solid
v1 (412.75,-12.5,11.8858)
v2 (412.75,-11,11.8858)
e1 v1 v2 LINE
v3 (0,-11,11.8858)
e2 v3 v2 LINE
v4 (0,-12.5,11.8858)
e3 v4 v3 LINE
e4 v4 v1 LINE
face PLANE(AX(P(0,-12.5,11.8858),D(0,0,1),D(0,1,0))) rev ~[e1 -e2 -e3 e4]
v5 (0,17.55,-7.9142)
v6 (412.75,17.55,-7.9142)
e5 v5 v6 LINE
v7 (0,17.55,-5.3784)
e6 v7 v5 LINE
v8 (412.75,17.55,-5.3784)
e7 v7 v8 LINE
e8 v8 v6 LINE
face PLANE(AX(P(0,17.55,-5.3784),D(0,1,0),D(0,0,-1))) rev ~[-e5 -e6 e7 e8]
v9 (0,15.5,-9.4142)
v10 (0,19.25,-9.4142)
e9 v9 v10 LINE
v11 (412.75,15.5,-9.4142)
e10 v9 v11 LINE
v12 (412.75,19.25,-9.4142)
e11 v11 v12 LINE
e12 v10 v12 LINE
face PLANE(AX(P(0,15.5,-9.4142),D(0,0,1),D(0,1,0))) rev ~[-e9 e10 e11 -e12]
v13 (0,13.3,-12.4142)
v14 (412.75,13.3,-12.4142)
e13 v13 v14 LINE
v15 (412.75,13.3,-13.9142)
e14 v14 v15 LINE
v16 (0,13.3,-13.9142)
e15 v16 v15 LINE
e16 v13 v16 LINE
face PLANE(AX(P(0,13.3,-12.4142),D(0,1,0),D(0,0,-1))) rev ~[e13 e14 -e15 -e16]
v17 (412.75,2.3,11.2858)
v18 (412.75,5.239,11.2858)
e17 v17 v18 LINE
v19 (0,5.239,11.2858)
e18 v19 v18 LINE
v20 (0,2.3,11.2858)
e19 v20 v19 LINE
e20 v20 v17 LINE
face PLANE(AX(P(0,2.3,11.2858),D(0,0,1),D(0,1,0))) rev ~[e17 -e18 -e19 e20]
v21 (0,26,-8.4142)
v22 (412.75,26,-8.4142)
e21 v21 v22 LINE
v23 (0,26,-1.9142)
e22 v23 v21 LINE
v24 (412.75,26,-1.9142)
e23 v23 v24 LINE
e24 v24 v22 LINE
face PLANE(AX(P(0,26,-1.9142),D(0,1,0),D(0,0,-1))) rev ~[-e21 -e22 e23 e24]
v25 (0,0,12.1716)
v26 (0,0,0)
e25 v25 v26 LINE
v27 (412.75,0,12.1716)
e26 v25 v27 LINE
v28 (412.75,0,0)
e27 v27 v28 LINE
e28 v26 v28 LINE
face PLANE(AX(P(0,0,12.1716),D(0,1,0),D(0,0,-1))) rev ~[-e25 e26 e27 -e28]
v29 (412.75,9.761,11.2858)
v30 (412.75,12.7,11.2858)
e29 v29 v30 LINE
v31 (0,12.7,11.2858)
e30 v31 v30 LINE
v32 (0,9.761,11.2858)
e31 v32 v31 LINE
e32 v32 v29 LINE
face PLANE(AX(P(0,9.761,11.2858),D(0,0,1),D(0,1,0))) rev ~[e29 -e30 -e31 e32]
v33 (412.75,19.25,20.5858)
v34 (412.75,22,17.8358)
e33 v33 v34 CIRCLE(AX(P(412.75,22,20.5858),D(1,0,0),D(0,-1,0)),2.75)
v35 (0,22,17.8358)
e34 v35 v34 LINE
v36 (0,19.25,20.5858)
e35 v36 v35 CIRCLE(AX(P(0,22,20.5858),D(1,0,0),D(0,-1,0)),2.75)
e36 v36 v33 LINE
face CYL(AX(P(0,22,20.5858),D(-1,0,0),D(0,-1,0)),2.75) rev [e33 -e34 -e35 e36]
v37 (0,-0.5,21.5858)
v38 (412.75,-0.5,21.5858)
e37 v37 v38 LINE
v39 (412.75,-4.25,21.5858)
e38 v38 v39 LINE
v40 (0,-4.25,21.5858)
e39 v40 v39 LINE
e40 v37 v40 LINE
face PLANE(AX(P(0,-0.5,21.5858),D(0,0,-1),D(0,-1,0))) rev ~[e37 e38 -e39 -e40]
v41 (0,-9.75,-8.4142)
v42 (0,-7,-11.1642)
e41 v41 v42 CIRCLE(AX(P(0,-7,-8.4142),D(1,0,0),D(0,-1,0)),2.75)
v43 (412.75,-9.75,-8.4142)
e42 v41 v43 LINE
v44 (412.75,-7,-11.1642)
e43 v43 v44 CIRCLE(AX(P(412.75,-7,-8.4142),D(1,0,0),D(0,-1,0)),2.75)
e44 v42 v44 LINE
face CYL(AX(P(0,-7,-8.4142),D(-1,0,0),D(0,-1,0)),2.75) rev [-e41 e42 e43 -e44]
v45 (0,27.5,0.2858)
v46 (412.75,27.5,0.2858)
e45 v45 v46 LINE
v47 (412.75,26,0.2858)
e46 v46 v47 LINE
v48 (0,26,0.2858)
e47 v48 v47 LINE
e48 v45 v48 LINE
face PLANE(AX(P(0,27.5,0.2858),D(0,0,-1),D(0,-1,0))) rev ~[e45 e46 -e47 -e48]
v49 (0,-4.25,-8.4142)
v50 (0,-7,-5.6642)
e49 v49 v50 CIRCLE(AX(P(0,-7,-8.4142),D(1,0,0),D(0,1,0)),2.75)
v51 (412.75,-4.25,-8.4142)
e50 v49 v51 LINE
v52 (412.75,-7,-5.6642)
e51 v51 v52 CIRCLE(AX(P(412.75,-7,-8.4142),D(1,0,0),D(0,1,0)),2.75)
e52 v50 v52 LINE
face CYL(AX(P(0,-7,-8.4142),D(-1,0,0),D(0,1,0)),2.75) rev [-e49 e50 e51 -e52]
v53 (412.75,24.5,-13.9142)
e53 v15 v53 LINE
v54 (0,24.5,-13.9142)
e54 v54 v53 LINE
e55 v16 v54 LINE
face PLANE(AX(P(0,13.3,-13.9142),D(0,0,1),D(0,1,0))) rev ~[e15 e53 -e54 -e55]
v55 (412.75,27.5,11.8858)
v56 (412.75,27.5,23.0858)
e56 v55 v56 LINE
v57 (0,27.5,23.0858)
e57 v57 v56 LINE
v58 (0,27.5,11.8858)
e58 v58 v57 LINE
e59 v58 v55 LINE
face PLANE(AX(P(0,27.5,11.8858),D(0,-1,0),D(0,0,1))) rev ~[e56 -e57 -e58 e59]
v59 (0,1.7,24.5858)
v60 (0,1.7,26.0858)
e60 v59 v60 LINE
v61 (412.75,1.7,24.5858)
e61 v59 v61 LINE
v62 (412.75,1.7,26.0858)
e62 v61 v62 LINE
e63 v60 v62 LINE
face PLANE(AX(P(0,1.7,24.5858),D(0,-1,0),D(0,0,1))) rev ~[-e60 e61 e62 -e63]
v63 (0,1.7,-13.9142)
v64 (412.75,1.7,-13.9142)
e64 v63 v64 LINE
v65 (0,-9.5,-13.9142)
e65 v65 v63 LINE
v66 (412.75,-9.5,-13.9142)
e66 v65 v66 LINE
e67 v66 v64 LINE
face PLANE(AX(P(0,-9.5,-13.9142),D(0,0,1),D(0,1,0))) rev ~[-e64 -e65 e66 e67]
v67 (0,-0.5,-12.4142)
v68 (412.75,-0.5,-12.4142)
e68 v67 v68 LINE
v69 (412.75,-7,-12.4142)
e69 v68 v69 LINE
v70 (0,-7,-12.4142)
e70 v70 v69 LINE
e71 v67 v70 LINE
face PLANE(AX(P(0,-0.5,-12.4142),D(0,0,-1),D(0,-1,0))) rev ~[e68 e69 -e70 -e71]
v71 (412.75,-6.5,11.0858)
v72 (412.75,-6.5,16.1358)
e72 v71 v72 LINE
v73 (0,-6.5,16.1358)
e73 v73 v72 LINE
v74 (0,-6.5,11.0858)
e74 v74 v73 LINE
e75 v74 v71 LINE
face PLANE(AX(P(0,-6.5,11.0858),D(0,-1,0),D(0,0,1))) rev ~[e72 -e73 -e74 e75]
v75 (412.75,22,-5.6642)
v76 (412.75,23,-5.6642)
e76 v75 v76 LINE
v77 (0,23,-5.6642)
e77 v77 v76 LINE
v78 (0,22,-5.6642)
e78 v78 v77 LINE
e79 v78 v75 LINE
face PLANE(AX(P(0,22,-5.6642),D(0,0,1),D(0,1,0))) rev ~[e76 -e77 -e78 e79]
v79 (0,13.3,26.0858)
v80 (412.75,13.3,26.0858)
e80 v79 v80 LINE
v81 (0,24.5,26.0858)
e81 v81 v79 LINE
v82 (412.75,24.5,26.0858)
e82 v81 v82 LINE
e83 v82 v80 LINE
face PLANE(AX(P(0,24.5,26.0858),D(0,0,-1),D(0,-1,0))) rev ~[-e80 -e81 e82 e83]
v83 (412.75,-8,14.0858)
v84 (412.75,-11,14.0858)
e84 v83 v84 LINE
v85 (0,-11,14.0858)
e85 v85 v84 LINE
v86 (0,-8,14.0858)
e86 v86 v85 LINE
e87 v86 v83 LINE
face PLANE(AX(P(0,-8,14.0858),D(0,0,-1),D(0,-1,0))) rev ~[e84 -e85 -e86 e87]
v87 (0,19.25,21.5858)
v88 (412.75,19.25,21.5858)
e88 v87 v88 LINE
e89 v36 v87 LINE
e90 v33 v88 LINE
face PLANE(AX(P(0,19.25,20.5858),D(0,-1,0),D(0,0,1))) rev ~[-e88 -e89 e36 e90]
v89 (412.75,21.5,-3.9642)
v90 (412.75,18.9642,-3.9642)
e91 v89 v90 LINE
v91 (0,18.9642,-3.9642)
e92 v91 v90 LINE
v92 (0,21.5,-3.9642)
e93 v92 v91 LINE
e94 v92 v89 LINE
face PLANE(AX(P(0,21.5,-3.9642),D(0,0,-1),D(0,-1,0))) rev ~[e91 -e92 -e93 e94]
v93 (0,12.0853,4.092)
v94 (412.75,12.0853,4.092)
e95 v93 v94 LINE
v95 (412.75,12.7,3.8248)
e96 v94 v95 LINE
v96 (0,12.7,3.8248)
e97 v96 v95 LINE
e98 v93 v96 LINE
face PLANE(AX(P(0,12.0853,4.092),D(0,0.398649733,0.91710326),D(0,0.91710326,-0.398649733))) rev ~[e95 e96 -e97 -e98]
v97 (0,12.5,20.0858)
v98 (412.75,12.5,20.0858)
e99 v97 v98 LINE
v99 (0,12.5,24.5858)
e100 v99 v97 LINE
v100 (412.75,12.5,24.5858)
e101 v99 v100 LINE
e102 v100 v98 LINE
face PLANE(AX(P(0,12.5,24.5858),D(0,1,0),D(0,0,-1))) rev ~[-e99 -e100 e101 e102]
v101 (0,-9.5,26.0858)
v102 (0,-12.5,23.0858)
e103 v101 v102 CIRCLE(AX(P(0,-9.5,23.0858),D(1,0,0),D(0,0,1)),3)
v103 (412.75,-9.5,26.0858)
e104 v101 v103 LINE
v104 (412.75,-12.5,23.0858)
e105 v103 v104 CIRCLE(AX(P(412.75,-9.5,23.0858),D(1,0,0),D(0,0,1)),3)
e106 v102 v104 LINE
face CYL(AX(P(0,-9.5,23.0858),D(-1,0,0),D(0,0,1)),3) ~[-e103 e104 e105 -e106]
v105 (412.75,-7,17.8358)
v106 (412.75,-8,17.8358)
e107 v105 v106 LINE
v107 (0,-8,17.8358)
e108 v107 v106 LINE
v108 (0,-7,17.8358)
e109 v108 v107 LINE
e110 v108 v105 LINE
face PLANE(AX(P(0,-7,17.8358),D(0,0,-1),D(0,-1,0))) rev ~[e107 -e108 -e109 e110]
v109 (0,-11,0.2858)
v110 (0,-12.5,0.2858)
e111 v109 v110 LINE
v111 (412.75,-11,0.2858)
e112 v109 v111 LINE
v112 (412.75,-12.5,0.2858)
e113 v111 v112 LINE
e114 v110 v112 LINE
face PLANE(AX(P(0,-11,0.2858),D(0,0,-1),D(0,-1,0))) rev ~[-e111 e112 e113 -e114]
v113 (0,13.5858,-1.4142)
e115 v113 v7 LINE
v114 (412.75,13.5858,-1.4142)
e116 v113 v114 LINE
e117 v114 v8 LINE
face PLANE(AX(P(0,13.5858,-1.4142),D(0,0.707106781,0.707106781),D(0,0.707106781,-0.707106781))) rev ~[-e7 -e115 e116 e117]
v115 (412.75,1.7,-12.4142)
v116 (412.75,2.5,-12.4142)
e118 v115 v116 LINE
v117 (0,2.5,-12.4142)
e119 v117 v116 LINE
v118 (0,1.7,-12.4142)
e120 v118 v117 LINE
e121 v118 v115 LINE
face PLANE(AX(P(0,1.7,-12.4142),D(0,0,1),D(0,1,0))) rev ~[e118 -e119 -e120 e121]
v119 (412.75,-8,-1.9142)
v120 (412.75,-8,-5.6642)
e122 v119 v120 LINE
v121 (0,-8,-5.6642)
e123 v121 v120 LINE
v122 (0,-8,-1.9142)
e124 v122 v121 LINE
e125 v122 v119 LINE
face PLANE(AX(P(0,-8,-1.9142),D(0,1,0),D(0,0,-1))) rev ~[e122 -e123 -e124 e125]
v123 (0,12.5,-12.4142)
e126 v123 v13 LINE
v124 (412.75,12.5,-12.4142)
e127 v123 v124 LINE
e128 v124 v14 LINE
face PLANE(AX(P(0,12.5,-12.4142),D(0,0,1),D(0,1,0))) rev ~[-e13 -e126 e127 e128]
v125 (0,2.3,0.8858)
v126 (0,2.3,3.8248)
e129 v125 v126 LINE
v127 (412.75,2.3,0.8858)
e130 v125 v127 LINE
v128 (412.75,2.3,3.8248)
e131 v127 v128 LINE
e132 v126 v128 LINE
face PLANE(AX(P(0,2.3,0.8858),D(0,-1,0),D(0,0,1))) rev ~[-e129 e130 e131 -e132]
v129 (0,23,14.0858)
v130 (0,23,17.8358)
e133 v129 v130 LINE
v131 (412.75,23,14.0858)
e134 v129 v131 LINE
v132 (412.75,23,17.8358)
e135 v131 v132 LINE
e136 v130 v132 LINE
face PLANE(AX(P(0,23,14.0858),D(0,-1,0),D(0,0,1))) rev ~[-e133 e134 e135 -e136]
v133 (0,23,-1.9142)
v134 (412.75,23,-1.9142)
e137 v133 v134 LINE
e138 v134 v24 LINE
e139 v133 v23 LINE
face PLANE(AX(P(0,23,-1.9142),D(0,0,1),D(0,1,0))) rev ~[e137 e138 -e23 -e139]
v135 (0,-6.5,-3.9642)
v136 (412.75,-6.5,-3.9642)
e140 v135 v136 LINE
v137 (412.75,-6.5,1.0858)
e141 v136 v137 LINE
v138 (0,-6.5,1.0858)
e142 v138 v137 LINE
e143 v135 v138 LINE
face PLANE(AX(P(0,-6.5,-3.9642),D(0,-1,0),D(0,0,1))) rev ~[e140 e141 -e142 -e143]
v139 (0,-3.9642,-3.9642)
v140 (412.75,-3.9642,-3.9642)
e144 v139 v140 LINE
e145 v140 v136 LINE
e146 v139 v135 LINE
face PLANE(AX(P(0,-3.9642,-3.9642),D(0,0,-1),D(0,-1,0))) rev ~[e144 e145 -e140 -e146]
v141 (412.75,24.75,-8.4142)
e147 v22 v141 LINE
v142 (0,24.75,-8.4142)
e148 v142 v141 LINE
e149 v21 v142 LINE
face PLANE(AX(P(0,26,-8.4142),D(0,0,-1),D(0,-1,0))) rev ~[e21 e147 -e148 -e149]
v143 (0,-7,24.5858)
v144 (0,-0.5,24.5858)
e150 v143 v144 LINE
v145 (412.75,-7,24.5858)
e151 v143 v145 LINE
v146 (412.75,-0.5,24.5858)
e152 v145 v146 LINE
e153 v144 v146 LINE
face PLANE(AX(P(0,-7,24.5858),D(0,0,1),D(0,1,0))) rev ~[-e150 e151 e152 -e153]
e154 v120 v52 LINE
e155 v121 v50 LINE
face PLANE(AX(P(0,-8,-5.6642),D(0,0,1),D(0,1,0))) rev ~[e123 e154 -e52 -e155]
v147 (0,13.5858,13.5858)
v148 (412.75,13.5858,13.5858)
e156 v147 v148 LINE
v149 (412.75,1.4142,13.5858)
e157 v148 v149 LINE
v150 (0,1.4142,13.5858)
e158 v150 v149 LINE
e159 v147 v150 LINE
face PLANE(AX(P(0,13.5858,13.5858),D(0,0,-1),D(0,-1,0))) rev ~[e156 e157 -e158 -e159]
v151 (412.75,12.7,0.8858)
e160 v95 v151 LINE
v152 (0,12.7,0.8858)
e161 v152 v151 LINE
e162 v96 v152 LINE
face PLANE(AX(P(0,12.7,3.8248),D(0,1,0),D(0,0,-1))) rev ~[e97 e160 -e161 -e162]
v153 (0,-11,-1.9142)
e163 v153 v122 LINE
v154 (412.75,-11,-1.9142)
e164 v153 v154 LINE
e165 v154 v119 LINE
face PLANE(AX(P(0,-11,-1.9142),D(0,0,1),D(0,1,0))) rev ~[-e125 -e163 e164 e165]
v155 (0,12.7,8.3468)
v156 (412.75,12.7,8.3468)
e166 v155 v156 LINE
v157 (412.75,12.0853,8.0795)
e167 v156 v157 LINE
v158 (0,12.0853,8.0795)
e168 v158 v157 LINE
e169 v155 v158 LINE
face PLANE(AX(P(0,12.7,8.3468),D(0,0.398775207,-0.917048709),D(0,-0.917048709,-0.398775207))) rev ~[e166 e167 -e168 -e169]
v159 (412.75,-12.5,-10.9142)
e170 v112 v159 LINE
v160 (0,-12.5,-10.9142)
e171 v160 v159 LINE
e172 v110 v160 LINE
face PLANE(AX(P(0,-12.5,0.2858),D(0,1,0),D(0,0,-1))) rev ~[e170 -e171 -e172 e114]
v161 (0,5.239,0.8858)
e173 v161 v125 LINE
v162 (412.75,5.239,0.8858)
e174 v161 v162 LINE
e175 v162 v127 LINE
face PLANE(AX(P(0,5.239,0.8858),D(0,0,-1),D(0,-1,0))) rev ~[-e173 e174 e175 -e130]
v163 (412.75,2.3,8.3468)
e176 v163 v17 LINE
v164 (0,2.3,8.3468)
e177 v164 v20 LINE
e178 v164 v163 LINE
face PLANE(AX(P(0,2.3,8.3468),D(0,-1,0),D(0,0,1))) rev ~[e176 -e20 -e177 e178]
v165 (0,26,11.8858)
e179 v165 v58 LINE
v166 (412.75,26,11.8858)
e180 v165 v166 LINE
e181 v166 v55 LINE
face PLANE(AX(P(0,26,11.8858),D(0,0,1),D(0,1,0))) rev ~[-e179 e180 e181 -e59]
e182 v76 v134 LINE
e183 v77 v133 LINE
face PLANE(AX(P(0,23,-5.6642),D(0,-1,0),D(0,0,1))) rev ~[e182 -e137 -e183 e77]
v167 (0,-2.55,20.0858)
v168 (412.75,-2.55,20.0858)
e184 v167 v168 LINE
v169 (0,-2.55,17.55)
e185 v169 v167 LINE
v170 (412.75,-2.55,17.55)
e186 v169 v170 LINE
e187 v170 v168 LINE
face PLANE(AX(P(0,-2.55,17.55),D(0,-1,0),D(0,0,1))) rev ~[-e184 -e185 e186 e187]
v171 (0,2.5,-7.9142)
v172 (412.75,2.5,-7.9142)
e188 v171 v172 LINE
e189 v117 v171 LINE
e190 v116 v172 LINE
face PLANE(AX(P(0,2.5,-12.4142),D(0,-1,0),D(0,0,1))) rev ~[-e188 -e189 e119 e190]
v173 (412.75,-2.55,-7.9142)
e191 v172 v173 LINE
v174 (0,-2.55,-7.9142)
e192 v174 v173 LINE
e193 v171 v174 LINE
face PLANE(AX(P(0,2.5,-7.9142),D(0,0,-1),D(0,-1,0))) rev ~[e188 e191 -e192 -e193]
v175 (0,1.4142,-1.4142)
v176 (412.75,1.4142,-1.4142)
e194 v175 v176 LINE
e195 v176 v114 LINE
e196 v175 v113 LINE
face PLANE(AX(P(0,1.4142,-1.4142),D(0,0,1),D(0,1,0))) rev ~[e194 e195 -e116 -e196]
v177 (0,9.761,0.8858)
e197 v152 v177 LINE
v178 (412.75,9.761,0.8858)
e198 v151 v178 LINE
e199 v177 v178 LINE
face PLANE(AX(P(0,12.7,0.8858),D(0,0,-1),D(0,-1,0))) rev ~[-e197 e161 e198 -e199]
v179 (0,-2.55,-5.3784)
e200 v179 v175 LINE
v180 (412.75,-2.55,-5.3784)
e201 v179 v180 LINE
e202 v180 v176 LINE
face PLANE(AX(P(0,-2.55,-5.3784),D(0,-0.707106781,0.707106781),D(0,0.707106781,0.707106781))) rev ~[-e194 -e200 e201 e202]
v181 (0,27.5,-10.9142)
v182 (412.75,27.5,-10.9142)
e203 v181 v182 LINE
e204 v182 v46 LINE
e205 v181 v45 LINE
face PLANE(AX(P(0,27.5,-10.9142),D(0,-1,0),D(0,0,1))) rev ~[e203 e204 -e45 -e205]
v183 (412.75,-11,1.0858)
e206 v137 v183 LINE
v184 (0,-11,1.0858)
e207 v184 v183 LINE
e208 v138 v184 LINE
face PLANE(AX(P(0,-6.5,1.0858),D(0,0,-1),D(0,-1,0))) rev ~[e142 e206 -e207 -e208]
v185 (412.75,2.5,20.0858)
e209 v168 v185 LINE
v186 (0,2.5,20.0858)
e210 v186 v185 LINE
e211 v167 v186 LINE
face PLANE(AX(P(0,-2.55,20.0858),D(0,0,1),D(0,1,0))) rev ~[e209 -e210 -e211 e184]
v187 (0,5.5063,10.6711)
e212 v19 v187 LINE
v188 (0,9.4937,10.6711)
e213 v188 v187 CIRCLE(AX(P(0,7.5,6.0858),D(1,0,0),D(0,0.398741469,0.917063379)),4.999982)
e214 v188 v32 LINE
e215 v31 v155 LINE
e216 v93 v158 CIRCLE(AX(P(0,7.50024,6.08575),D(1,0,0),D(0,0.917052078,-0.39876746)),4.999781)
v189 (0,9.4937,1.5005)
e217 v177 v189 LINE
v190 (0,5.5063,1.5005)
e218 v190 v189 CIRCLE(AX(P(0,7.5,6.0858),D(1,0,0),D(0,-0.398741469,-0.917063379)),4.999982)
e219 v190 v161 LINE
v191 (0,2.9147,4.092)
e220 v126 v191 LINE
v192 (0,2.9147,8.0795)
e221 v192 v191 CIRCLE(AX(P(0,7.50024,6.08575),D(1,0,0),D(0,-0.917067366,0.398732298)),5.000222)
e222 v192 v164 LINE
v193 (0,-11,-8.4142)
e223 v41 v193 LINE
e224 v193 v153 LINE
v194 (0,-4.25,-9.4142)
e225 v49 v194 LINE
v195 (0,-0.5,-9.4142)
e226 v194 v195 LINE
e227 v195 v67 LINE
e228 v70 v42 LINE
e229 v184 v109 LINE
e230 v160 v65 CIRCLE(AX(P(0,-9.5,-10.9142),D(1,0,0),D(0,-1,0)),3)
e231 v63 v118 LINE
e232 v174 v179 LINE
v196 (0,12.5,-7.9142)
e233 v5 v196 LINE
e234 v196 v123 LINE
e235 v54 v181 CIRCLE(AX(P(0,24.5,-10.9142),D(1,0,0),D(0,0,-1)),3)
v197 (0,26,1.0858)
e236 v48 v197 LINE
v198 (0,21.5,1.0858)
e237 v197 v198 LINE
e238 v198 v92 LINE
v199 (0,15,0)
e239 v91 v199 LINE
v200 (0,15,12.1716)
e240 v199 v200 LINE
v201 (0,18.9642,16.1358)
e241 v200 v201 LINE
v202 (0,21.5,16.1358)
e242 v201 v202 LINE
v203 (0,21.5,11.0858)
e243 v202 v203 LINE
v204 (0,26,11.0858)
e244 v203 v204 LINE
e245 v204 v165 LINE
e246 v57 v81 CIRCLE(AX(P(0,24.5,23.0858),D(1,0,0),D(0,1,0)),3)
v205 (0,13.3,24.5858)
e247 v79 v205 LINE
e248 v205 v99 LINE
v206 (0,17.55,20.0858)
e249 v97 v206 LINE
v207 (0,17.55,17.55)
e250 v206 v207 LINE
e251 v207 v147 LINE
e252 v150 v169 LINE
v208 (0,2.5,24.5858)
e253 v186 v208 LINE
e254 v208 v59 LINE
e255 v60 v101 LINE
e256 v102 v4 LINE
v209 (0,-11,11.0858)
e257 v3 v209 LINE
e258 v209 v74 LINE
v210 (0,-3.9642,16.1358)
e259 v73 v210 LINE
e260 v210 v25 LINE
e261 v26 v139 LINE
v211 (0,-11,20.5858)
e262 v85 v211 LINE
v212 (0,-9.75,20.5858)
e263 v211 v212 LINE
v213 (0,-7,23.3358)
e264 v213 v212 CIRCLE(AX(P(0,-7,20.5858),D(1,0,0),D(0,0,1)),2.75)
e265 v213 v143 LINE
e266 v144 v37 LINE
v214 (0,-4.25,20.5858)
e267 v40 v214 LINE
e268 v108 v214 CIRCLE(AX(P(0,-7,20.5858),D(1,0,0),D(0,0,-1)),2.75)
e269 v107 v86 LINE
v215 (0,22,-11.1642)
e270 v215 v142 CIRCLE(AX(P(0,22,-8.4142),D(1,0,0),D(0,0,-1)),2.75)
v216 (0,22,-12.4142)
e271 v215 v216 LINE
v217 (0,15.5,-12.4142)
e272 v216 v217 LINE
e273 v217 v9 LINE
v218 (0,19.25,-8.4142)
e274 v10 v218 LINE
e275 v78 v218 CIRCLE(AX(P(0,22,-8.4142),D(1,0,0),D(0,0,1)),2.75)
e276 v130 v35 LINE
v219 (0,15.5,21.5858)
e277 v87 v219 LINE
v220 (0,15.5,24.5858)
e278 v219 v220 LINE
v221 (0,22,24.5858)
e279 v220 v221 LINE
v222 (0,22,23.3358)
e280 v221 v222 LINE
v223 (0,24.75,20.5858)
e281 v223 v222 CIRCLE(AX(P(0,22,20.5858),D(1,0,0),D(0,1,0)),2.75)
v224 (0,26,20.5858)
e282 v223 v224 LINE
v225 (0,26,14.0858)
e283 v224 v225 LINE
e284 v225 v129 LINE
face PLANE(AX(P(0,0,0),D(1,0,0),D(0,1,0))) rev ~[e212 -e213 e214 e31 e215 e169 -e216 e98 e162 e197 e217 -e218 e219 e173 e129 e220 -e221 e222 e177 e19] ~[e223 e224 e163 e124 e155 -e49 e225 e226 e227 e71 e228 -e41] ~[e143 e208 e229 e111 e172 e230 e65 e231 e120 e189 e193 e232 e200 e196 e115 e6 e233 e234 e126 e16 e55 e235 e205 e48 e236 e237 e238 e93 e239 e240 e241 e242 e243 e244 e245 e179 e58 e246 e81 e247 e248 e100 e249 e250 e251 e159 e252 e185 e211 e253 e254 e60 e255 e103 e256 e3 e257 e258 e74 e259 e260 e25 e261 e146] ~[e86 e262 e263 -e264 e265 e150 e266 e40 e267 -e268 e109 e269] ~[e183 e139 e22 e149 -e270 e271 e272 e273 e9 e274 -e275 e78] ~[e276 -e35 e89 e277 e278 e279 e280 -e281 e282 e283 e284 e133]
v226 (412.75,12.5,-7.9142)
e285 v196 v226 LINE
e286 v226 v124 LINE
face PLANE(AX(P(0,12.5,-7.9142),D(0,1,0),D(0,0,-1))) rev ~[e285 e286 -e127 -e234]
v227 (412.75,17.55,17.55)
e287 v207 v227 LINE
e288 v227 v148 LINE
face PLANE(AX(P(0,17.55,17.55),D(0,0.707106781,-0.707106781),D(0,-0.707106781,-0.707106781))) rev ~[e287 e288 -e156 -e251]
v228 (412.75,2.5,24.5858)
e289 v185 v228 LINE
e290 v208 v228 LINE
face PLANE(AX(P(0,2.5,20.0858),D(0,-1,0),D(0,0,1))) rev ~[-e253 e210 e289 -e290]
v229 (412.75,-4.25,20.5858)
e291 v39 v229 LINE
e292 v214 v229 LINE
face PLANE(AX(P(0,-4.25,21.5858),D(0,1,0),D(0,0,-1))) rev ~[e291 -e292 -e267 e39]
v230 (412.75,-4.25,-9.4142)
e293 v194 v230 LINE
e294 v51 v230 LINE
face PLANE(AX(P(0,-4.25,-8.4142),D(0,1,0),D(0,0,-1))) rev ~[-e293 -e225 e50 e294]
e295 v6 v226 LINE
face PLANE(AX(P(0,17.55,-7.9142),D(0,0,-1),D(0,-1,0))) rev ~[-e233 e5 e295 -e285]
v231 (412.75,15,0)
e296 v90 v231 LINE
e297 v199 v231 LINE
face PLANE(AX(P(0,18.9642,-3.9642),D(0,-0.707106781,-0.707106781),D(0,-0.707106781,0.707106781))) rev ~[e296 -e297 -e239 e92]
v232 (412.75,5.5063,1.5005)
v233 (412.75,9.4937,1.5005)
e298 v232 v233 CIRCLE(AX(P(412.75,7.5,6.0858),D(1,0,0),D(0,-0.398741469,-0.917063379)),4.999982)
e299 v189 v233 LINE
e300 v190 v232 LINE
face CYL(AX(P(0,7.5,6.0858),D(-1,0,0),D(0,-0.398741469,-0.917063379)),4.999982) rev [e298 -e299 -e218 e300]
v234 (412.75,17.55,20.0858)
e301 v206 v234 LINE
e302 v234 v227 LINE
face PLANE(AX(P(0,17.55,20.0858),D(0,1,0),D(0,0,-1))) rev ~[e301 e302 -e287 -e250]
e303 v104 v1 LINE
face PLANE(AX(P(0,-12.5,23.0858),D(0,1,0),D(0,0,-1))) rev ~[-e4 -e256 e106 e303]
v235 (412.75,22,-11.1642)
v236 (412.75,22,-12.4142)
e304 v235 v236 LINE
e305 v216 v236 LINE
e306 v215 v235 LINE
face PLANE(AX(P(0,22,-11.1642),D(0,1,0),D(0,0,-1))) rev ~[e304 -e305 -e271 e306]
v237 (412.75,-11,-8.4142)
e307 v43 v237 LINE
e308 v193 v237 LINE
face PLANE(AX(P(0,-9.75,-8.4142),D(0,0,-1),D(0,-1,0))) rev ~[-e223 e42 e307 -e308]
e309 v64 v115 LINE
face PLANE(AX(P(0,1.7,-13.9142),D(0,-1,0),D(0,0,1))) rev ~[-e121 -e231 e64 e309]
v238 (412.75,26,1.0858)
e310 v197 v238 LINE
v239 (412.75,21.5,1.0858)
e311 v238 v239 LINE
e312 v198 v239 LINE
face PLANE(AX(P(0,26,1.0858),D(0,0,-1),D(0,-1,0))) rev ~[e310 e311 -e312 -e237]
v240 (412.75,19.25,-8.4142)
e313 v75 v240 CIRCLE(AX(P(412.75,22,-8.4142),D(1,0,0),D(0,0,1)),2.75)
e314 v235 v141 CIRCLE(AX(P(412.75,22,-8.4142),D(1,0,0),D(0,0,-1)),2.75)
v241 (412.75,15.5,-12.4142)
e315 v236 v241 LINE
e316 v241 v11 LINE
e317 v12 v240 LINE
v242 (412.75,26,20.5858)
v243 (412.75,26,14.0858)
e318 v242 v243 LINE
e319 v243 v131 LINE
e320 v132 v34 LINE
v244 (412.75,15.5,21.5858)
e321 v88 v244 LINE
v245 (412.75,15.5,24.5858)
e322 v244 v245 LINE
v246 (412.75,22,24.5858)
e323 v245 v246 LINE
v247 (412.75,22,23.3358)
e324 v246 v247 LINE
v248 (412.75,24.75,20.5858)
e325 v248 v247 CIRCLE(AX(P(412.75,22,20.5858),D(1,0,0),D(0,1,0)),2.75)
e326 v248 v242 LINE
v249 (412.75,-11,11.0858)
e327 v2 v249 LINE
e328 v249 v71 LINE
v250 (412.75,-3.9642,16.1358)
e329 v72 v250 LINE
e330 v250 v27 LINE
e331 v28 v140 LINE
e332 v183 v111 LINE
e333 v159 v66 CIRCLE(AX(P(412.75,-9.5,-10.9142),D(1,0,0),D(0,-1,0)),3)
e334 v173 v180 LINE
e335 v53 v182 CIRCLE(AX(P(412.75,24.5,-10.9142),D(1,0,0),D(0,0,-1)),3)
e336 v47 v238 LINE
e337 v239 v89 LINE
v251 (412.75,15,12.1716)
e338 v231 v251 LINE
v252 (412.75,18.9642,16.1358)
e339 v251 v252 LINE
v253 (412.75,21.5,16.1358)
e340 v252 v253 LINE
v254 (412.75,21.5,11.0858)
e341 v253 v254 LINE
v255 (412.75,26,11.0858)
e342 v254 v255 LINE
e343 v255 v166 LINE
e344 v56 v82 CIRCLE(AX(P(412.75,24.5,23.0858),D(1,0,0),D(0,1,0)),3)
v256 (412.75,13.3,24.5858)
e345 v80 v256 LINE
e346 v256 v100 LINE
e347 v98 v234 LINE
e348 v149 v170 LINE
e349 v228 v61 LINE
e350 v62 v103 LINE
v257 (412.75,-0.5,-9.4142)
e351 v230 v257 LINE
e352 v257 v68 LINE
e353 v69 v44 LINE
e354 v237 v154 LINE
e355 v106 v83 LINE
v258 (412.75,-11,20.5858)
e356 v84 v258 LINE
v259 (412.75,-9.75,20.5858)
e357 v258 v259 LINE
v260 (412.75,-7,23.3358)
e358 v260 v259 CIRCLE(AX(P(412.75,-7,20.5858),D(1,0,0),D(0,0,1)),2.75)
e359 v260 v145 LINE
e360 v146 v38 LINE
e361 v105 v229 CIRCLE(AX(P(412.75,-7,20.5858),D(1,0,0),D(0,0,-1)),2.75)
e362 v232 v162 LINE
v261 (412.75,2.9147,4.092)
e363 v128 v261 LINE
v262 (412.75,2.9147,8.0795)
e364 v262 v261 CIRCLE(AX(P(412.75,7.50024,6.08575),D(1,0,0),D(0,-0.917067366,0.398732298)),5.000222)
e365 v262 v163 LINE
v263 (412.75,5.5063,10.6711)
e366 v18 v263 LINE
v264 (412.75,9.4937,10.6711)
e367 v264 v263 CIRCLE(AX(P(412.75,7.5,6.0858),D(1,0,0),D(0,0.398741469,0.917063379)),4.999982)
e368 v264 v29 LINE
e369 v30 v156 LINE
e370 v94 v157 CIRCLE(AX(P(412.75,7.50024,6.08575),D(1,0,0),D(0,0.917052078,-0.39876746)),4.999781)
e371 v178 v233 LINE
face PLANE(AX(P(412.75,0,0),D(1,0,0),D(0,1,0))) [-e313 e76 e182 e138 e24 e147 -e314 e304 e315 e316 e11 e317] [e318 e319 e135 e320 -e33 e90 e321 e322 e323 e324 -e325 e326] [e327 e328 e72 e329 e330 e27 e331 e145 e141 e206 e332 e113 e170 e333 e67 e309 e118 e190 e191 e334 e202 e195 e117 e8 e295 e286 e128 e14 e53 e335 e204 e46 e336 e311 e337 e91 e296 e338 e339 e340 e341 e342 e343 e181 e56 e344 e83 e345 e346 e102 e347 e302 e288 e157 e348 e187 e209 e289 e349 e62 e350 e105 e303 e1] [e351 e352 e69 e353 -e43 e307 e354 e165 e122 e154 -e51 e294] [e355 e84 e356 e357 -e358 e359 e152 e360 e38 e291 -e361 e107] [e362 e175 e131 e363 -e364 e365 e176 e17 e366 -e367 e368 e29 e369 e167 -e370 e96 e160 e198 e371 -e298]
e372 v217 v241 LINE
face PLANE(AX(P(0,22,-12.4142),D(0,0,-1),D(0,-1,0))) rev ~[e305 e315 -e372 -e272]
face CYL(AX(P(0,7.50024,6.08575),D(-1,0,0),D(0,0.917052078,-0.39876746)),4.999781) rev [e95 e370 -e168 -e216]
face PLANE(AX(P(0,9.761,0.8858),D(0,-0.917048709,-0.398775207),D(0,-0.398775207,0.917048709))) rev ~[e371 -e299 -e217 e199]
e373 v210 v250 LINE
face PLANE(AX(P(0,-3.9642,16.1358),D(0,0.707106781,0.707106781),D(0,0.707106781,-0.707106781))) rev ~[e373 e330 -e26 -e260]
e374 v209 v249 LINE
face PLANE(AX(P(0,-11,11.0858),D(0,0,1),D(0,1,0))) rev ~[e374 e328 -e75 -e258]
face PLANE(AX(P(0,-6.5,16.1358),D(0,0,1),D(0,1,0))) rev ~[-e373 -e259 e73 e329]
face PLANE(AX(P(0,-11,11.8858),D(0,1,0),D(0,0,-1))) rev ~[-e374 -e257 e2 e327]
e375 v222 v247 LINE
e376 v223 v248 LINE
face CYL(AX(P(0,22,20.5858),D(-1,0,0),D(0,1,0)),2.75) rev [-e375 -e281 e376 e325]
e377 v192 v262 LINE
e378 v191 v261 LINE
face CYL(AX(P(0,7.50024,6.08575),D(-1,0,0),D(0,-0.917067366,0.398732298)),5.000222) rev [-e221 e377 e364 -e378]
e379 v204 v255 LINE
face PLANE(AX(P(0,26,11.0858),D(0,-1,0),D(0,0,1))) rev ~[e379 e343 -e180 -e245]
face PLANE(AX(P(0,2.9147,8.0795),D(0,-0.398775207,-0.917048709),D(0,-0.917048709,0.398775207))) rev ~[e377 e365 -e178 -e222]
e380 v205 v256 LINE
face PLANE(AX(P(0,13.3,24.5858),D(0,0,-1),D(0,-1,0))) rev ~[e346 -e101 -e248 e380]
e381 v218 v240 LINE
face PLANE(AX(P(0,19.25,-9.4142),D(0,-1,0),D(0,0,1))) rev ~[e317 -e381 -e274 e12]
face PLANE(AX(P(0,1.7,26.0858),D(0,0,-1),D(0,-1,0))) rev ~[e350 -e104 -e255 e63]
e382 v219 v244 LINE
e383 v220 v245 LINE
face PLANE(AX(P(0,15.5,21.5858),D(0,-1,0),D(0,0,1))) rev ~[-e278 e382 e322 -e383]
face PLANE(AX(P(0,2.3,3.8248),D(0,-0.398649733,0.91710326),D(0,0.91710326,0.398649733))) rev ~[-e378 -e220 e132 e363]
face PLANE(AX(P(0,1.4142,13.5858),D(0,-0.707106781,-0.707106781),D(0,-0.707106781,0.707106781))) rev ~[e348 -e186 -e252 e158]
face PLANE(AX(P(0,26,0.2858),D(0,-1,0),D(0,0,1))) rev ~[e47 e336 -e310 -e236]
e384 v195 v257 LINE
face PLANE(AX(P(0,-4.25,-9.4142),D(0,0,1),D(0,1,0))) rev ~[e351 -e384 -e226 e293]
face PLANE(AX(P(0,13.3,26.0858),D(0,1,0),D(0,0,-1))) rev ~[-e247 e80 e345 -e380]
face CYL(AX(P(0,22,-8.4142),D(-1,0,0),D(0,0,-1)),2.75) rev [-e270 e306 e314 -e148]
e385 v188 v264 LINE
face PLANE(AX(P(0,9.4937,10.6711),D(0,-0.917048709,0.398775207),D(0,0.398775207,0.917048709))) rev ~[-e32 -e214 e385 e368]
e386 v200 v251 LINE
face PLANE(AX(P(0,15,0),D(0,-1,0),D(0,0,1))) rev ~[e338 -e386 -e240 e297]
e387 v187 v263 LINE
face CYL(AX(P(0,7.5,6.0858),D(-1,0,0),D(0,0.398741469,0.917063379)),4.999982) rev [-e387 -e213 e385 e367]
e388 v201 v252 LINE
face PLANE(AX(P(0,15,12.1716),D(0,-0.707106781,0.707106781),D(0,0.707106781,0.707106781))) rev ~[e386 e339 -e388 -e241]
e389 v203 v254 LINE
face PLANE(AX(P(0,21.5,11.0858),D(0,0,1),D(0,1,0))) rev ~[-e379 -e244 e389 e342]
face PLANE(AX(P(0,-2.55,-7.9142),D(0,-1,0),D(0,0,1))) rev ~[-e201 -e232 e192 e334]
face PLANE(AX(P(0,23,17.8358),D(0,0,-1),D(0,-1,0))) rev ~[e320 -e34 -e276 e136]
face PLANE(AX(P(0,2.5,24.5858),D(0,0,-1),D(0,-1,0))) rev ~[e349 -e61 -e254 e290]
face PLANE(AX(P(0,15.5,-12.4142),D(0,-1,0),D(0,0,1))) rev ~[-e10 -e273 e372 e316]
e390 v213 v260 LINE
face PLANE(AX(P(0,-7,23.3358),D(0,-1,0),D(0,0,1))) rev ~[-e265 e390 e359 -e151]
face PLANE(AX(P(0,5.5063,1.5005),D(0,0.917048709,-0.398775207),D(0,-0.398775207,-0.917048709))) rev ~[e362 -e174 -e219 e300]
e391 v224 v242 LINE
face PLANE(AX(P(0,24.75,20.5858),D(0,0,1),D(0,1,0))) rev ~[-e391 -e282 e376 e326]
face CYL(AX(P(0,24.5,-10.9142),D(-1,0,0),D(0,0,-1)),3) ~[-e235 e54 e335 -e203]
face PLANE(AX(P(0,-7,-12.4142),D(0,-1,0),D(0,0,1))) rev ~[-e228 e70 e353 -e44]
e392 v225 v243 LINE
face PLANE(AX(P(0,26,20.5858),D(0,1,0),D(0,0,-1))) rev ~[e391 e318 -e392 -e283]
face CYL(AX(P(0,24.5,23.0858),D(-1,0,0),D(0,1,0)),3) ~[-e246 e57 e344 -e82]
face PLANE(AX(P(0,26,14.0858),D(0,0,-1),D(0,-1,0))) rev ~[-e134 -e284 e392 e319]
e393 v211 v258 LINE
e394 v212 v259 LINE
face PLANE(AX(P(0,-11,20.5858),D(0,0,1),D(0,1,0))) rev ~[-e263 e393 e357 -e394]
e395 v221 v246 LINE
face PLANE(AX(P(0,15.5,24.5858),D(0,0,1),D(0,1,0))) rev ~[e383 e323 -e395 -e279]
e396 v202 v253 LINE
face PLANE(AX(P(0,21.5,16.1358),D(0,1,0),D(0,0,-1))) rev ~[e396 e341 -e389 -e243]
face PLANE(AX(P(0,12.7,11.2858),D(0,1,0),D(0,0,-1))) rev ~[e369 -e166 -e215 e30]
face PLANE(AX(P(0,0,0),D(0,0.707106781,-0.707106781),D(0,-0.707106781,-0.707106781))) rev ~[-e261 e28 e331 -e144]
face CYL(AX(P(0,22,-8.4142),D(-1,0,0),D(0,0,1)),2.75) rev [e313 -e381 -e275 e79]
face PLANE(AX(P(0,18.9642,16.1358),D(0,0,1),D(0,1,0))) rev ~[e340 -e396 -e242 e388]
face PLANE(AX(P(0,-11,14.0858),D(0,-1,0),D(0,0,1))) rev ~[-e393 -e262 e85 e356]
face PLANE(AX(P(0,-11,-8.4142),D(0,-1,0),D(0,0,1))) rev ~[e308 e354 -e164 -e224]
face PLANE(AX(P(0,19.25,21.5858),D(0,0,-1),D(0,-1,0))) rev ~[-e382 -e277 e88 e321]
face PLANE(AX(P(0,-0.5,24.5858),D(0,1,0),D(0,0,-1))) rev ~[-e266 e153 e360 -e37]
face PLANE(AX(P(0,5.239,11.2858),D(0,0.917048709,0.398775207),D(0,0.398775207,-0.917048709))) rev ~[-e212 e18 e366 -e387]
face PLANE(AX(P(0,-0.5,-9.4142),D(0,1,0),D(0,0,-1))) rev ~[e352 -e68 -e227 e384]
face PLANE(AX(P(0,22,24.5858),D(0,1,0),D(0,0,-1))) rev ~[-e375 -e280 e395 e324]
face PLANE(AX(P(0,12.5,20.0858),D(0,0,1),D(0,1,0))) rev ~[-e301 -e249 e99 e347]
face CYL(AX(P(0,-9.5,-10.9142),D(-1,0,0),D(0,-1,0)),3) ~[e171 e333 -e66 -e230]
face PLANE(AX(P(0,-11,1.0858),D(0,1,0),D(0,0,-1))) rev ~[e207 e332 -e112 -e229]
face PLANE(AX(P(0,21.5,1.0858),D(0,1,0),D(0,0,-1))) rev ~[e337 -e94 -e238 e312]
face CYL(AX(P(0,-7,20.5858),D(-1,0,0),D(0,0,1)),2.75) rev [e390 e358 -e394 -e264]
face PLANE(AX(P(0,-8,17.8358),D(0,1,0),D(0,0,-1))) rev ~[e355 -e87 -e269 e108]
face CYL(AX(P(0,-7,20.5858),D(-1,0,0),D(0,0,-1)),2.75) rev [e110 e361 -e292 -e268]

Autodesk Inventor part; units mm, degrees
ref_plane "YZ Plane" through (0, 0, 0) normal (1, 0, 0) x (0, 1, 0)
ref_plane "XZ Plane" through (0, 0, 0) normal (0, 1, 0) x (-1, 0, 0)
ref_plane "XY Plane" through (0, 0, 0) normal (0, 0, 1) x (1, 0, 0)
sketch "Sketch1" plane through (0, 0, 0) normal (1, 0, 0) x (0, 1, 0)
  line L0 (0, 12.1716) -> (0, 0)
  line L1 (0, 0) -> (-3.9642, -3.9642)
  line L2 (-3.9642, -3.9642) -> (-6.5, -3.9642)
  line L3 (-6.5, -3.9642) -> (-6.5, 1.0858)
  line L4 (-6.5, 1.0858) -> (-11, 1.0858)
  line L5 (-11, 1.0858) -> (-11, 0.2858)
  line L6 (-11, 0.2858) -> (-12.5, 0.2858)
  line L7 (-12.5, 0.2858) -> (-12.5, -10.9142)
  arc A0 (-12.5, -10.9142) -> (-9.5, -13.9142) centre (-9.5, -10.9142) ccw
  line L8 (-9.5, -13.9142) -> (1.7, -13.9142)
  line L9 (1.7, -13.9142) -> (1.7, -12.4142)
  line L10 (1.7, -12.4142) -> (2.5, -12.4142)
  line L11 (2.5, -12.4142) -> (2.5, -7.9142)
  line L12 (2.5, -7.9142) -> (-2.55, -7.9142)
  line L13 (-2.55, -7.9142) -> (-2.55, -5.3784)
  line L14 (-2.55, -5.3784) -> (1.4142, -1.4142)
  line L15 (1.4142, -1.4142) -> (13.5858, -1.4142)
  line L16 (13.5858, -1.4142) -> (17.55, -5.3784)
  line L17 (17.55, -5.3784) -> (17.55, -7.9142)
  line L18 (17.55, -7.9142) -> (12.5, -7.9142)
  line L19 (12.5, -7.9142) -> (12.5, -12.4142)
  line L20 (12.5, -12.4142) -> (13.3, -12.4142)
  line L21 (13.3, -12.4142) -> (13.3, -13.9142)
  line L22 (13.3, -13.9142) -> (24.5, -13.9142)
  arc A1 (24.5, -13.9142) -> (27.5, -10.9142) centre (24.5, -10.9142) ccw
  line L23 (27.5, -10.9142) -> (27.5, 0.2858)
  line L24 (27.5, 0.2858) -> (26, 0.2858)
  line L25 (26, 0.2858) -> (26, 1.0858)
  line L26 (26, 1.0858) -> (21.5, 1.0858)
  line L27 (21.5, 1.0858) -> (21.5, -3.9642)
  line L28 (21.5, -3.9642) -> (18.9642, -3.9642)
  line L29 (18.9642, -3.9642) -> (15, 0)
  line L30 (15, 0) -> (15, 12.1716)
  line L31 (15, 12.1716) -> (18.9642, 16.1358)
  line L32 (18.9642, 16.1358) -> (21.5, 16.1358)
  line L33 (21.5, 16.1358) -> (21.5, 11.0858)
  line L34 (21.5, 11.0858) -> (26, 11.0858)
  line L35 (26, 11.0858) -> (26, 11.8858)
  line L36 (26, 11.8858) -> (27.5, 11.8858)
  line L37 (27.5, 11.8858) -> (27.5, 23.0858)
  arc A2 (27.5, 23.0858) -> (24.5, 26.0858) centre (24.5, 23.0858) ccw
  line L38 (24.5, 26.0858) -> (13.3, 26.0858)
  line L39 (13.3, 26.0858) -> (13.3, 24.5858)
  line L40 (13.3, 24.5858) -> (12.5, 24.5858)
  line L41 (12.5, 24.5858) -> (12.5, 20.0858)
  line L42 (12.5, 20.0858) -> (17.55, 20.0858)
  line L43 (17.55, 20.0858) -> (17.55, 17.55)
  line L44 (17.55, 17.55) -> (13.5858, 13.5858)
  line L45 (13.5858, 13.5858) -> (1.4142, 13.5858)
  line L46 (1.4142, 13.5858) -> (-2.55, 17.55)
  line L47 (-2.55, 17.55) -> (-2.55, 20.0858)
  line L48 (-2.55, 20.0858) -> (2.5, 20.0858)
  line L49 (2.5, 20.0858) -> (2.5, 24.5858)
  line L50 (2.5, 24.5858) -> (1.7, 24.5858)
  line L51 (1.7, 24.5858) -> (1.7, 26.0858)
  line L52 (1.7, 26.0858) -> (-9.5, 26.0858)
  arc A3 (-9.5, 26.0858) -> (-12.5, 23.0858) centre (-9.5, 23.0858) ccw
  line L53 (-12.5, 23.0858) -> (-12.5, 11.8858)
  line L54 (-12.5, 11.8858) -> (-11, 11.8858)
  line L55 (-11, 11.8858) -> (-11, 11.0858)
  line L56 (-11, 11.0858) -> (-6.5, 11.0858)
  line L57 (-6.5, 11.0858) -> (-6.5, 16.1358)
  line L58 (-6.5, 16.1358) -> (-3.9642, 16.1358)
  line L59 (-3.9642, 16.1358) -> (0, 12.1716)
  line L60 (-0.5, 24.5858) -> (-0.5, 21.5858)
  line L61 (-0.5, 21.5858) -> (-4.25, 21.5858)
  line L62 (-4.25, 21.5858) -> (-4.25, 20.5858)
  arc A4 (-7, 17.8358) -> (-4.25, 20.5858) centre (-7, 20.5858) ccw
  line L63 (-7, 17.8358) -> (-8, 17.8358)
  line L64 (-8, 17.8358) -> (-8, 14.0858)
  line L65 (-8, 14.0858) -> (-11, 14.0858)
  line L66 (-11, 14.0858) -> (-11, 20.5858)
  line L67 (-11, 20.5858) -> (-9.75, 20.5858)
  arc A5 (-7, 23.3358) -> (-9.75, 20.5858) centre (-7, 20.5858) ccw
  line L68 (-7, 23.3358) -> (-7, 24.5858)
  line L69 (-7, 24.5858) -> (-0.5, 24.5858)
  line L70 (26, 14.0858) -> (23, 14.0858)
  line L71 (23, 14.0858) -> (23, 17.8358)
  line L72 (23, 17.8358) -> (22, 17.8358)
  arc A6 (19.25, 20.5858) -> (22, 17.8358) centre (22, 20.5858) ccw
  line L73 (19.25, 20.5858) -> (19.25, 21.5858)
  line L74 (19.25, 21.5858) -> (15.5, 21.5858)
  line L75 (15.5, 21.5858) -> (15.5, 24.5858)
  line L76 (15.5, 24.5858) -> (22, 24.5858)
  line L77 (22, 24.5858) -> (22, 23.3358)
  arc A7 (24.75, 20.5858) -> (22, 23.3358) centre (22, 20.5858) ccw
  line L78 (24.75, 20.5858) -> (26, 20.5858)
  line L79 (26, 20.5858) -> (26, 14.0858)
  line L80 (15.5, -12.4142) -> (15.5, -9.4142)
  line L81 (15.5, -9.4142) -> (19.25, -9.4142)
  line L82 (19.25, -9.4142) -> (19.25, -8.4142)
  arc A8 (22, -5.6642) -> (19.25, -8.4142) centre (22, -8.4142) ccw
  line L83 (22, -5.6642) -> (23, -5.6642)
  line L84 (23, -5.6642) -> (23, -1.9142)
  line L85 (23, -1.9142) -> (26, -1.9142)
  line L86 (26, -1.9142) -> (26, -8.4142)
  line L87 (26, -8.4142) -> (24.75, -8.4142)
  arc A9 (22, -11.1642) -> (24.75, -8.4142) centre (22, -8.4142) ccw
  line L88 (22, -11.1642) -> (22, -12.4142)
  line L89 (22, -12.4142) -> (15.5, -12.4142)
  line L90 (9.761, 0.8858) -> (9.4937, 1.5005)
  arc A10 (5.5063, 1.5005) -> (9.4937, 1.5005) centre (7.5, 6.0858) ccw
  line L91 (5.5063, 1.5005) -> (5.239, 0.8858)
  line L92 (5.239, 0.8858) -> (2.3, 0.8858)
  line L93 (2.3, 0.8858) -> (2.3, 3.8248)
  line L94 (2.3, 3.8248) -> (2.9147, 4.092)
  arc A11 (2.9147, 8.0795) -> (2.9147, 4.092) centre (7.5, 6.0858) ccw
  line L95 (2.9147, 8.0795) -> (2.3, 8.3468)
  line L96 (2.3, 8.3468) -> (2.3, 11.2858)
  line L97 (2.3, 11.2858) -> (5.239, 11.2858)
  line L98 (5.239, 11.2858) -> (5.5063, 10.6711)
  arc A12 (9.4937, 10.6711) -> (5.5063, 10.6711) centre (7.5, 6.0858) ccw
  line L99 (9.4937, 10.6711) -> (9.761, 11.2858)
  line L100 (9.761, 11.2858) -> (12.7, 11.2858)
  line L101 (12.7, 11.2858) -> (12.7, 8.3468)
  line L102 (12.7, 8.3468) -> (12.0853, 8.0795)
  arc A13 (12.0853, 4.092) -> (12.0853, 8.0795) centre (7.5, 6.0858) ccw
  line L103 (12.0853, 4.092) -> (12.7, 3.8248)
  line L104 (12.7, 3.8248) -> (12.7, 0.8858)
  line L105 (12.7, 0.8858) -> (9.761, 0.8858)
  line L106 (-11, -1.9142) -> (-8, -1.9142)
  line L107 (-8, -1.9142) -> (-8, -5.6642)
  line L108 (-8, -5.6642) -> (-7, -5.6642)
  arc A14 (-4.25, -8.4142) -> (-7, -5.6642) centre (-7, -8.4142) ccw
  line L109 (-4.25, -8.4142) -> (-4.25, -9.4142)
  line L110 (-4.25, -9.4142) -> (-0.5, -9.4142)
  line L111 (-0.5, -9.4142) -> (-0.5, -12.4142)
  line L112 (-0.5, -12.4142) -> (-7, -12.4142)
  line L113 (-7, -12.4142) -> (-7, -11.1642)
  arc A15 (-9.75, -8.4142) -> (-7, -11.1642) centre (-7, -8.4142) ccw
  line L114 (-9.75, -8.4142) -> (-11, -8.4142)
  line L115 (-11, -8.4142) -> (-11, -1.9142)
extrude "Extrusion1" add sketch "Sketch1" along normal blind 412.75
properties part number "front upright" material "Aluminum-6061"
